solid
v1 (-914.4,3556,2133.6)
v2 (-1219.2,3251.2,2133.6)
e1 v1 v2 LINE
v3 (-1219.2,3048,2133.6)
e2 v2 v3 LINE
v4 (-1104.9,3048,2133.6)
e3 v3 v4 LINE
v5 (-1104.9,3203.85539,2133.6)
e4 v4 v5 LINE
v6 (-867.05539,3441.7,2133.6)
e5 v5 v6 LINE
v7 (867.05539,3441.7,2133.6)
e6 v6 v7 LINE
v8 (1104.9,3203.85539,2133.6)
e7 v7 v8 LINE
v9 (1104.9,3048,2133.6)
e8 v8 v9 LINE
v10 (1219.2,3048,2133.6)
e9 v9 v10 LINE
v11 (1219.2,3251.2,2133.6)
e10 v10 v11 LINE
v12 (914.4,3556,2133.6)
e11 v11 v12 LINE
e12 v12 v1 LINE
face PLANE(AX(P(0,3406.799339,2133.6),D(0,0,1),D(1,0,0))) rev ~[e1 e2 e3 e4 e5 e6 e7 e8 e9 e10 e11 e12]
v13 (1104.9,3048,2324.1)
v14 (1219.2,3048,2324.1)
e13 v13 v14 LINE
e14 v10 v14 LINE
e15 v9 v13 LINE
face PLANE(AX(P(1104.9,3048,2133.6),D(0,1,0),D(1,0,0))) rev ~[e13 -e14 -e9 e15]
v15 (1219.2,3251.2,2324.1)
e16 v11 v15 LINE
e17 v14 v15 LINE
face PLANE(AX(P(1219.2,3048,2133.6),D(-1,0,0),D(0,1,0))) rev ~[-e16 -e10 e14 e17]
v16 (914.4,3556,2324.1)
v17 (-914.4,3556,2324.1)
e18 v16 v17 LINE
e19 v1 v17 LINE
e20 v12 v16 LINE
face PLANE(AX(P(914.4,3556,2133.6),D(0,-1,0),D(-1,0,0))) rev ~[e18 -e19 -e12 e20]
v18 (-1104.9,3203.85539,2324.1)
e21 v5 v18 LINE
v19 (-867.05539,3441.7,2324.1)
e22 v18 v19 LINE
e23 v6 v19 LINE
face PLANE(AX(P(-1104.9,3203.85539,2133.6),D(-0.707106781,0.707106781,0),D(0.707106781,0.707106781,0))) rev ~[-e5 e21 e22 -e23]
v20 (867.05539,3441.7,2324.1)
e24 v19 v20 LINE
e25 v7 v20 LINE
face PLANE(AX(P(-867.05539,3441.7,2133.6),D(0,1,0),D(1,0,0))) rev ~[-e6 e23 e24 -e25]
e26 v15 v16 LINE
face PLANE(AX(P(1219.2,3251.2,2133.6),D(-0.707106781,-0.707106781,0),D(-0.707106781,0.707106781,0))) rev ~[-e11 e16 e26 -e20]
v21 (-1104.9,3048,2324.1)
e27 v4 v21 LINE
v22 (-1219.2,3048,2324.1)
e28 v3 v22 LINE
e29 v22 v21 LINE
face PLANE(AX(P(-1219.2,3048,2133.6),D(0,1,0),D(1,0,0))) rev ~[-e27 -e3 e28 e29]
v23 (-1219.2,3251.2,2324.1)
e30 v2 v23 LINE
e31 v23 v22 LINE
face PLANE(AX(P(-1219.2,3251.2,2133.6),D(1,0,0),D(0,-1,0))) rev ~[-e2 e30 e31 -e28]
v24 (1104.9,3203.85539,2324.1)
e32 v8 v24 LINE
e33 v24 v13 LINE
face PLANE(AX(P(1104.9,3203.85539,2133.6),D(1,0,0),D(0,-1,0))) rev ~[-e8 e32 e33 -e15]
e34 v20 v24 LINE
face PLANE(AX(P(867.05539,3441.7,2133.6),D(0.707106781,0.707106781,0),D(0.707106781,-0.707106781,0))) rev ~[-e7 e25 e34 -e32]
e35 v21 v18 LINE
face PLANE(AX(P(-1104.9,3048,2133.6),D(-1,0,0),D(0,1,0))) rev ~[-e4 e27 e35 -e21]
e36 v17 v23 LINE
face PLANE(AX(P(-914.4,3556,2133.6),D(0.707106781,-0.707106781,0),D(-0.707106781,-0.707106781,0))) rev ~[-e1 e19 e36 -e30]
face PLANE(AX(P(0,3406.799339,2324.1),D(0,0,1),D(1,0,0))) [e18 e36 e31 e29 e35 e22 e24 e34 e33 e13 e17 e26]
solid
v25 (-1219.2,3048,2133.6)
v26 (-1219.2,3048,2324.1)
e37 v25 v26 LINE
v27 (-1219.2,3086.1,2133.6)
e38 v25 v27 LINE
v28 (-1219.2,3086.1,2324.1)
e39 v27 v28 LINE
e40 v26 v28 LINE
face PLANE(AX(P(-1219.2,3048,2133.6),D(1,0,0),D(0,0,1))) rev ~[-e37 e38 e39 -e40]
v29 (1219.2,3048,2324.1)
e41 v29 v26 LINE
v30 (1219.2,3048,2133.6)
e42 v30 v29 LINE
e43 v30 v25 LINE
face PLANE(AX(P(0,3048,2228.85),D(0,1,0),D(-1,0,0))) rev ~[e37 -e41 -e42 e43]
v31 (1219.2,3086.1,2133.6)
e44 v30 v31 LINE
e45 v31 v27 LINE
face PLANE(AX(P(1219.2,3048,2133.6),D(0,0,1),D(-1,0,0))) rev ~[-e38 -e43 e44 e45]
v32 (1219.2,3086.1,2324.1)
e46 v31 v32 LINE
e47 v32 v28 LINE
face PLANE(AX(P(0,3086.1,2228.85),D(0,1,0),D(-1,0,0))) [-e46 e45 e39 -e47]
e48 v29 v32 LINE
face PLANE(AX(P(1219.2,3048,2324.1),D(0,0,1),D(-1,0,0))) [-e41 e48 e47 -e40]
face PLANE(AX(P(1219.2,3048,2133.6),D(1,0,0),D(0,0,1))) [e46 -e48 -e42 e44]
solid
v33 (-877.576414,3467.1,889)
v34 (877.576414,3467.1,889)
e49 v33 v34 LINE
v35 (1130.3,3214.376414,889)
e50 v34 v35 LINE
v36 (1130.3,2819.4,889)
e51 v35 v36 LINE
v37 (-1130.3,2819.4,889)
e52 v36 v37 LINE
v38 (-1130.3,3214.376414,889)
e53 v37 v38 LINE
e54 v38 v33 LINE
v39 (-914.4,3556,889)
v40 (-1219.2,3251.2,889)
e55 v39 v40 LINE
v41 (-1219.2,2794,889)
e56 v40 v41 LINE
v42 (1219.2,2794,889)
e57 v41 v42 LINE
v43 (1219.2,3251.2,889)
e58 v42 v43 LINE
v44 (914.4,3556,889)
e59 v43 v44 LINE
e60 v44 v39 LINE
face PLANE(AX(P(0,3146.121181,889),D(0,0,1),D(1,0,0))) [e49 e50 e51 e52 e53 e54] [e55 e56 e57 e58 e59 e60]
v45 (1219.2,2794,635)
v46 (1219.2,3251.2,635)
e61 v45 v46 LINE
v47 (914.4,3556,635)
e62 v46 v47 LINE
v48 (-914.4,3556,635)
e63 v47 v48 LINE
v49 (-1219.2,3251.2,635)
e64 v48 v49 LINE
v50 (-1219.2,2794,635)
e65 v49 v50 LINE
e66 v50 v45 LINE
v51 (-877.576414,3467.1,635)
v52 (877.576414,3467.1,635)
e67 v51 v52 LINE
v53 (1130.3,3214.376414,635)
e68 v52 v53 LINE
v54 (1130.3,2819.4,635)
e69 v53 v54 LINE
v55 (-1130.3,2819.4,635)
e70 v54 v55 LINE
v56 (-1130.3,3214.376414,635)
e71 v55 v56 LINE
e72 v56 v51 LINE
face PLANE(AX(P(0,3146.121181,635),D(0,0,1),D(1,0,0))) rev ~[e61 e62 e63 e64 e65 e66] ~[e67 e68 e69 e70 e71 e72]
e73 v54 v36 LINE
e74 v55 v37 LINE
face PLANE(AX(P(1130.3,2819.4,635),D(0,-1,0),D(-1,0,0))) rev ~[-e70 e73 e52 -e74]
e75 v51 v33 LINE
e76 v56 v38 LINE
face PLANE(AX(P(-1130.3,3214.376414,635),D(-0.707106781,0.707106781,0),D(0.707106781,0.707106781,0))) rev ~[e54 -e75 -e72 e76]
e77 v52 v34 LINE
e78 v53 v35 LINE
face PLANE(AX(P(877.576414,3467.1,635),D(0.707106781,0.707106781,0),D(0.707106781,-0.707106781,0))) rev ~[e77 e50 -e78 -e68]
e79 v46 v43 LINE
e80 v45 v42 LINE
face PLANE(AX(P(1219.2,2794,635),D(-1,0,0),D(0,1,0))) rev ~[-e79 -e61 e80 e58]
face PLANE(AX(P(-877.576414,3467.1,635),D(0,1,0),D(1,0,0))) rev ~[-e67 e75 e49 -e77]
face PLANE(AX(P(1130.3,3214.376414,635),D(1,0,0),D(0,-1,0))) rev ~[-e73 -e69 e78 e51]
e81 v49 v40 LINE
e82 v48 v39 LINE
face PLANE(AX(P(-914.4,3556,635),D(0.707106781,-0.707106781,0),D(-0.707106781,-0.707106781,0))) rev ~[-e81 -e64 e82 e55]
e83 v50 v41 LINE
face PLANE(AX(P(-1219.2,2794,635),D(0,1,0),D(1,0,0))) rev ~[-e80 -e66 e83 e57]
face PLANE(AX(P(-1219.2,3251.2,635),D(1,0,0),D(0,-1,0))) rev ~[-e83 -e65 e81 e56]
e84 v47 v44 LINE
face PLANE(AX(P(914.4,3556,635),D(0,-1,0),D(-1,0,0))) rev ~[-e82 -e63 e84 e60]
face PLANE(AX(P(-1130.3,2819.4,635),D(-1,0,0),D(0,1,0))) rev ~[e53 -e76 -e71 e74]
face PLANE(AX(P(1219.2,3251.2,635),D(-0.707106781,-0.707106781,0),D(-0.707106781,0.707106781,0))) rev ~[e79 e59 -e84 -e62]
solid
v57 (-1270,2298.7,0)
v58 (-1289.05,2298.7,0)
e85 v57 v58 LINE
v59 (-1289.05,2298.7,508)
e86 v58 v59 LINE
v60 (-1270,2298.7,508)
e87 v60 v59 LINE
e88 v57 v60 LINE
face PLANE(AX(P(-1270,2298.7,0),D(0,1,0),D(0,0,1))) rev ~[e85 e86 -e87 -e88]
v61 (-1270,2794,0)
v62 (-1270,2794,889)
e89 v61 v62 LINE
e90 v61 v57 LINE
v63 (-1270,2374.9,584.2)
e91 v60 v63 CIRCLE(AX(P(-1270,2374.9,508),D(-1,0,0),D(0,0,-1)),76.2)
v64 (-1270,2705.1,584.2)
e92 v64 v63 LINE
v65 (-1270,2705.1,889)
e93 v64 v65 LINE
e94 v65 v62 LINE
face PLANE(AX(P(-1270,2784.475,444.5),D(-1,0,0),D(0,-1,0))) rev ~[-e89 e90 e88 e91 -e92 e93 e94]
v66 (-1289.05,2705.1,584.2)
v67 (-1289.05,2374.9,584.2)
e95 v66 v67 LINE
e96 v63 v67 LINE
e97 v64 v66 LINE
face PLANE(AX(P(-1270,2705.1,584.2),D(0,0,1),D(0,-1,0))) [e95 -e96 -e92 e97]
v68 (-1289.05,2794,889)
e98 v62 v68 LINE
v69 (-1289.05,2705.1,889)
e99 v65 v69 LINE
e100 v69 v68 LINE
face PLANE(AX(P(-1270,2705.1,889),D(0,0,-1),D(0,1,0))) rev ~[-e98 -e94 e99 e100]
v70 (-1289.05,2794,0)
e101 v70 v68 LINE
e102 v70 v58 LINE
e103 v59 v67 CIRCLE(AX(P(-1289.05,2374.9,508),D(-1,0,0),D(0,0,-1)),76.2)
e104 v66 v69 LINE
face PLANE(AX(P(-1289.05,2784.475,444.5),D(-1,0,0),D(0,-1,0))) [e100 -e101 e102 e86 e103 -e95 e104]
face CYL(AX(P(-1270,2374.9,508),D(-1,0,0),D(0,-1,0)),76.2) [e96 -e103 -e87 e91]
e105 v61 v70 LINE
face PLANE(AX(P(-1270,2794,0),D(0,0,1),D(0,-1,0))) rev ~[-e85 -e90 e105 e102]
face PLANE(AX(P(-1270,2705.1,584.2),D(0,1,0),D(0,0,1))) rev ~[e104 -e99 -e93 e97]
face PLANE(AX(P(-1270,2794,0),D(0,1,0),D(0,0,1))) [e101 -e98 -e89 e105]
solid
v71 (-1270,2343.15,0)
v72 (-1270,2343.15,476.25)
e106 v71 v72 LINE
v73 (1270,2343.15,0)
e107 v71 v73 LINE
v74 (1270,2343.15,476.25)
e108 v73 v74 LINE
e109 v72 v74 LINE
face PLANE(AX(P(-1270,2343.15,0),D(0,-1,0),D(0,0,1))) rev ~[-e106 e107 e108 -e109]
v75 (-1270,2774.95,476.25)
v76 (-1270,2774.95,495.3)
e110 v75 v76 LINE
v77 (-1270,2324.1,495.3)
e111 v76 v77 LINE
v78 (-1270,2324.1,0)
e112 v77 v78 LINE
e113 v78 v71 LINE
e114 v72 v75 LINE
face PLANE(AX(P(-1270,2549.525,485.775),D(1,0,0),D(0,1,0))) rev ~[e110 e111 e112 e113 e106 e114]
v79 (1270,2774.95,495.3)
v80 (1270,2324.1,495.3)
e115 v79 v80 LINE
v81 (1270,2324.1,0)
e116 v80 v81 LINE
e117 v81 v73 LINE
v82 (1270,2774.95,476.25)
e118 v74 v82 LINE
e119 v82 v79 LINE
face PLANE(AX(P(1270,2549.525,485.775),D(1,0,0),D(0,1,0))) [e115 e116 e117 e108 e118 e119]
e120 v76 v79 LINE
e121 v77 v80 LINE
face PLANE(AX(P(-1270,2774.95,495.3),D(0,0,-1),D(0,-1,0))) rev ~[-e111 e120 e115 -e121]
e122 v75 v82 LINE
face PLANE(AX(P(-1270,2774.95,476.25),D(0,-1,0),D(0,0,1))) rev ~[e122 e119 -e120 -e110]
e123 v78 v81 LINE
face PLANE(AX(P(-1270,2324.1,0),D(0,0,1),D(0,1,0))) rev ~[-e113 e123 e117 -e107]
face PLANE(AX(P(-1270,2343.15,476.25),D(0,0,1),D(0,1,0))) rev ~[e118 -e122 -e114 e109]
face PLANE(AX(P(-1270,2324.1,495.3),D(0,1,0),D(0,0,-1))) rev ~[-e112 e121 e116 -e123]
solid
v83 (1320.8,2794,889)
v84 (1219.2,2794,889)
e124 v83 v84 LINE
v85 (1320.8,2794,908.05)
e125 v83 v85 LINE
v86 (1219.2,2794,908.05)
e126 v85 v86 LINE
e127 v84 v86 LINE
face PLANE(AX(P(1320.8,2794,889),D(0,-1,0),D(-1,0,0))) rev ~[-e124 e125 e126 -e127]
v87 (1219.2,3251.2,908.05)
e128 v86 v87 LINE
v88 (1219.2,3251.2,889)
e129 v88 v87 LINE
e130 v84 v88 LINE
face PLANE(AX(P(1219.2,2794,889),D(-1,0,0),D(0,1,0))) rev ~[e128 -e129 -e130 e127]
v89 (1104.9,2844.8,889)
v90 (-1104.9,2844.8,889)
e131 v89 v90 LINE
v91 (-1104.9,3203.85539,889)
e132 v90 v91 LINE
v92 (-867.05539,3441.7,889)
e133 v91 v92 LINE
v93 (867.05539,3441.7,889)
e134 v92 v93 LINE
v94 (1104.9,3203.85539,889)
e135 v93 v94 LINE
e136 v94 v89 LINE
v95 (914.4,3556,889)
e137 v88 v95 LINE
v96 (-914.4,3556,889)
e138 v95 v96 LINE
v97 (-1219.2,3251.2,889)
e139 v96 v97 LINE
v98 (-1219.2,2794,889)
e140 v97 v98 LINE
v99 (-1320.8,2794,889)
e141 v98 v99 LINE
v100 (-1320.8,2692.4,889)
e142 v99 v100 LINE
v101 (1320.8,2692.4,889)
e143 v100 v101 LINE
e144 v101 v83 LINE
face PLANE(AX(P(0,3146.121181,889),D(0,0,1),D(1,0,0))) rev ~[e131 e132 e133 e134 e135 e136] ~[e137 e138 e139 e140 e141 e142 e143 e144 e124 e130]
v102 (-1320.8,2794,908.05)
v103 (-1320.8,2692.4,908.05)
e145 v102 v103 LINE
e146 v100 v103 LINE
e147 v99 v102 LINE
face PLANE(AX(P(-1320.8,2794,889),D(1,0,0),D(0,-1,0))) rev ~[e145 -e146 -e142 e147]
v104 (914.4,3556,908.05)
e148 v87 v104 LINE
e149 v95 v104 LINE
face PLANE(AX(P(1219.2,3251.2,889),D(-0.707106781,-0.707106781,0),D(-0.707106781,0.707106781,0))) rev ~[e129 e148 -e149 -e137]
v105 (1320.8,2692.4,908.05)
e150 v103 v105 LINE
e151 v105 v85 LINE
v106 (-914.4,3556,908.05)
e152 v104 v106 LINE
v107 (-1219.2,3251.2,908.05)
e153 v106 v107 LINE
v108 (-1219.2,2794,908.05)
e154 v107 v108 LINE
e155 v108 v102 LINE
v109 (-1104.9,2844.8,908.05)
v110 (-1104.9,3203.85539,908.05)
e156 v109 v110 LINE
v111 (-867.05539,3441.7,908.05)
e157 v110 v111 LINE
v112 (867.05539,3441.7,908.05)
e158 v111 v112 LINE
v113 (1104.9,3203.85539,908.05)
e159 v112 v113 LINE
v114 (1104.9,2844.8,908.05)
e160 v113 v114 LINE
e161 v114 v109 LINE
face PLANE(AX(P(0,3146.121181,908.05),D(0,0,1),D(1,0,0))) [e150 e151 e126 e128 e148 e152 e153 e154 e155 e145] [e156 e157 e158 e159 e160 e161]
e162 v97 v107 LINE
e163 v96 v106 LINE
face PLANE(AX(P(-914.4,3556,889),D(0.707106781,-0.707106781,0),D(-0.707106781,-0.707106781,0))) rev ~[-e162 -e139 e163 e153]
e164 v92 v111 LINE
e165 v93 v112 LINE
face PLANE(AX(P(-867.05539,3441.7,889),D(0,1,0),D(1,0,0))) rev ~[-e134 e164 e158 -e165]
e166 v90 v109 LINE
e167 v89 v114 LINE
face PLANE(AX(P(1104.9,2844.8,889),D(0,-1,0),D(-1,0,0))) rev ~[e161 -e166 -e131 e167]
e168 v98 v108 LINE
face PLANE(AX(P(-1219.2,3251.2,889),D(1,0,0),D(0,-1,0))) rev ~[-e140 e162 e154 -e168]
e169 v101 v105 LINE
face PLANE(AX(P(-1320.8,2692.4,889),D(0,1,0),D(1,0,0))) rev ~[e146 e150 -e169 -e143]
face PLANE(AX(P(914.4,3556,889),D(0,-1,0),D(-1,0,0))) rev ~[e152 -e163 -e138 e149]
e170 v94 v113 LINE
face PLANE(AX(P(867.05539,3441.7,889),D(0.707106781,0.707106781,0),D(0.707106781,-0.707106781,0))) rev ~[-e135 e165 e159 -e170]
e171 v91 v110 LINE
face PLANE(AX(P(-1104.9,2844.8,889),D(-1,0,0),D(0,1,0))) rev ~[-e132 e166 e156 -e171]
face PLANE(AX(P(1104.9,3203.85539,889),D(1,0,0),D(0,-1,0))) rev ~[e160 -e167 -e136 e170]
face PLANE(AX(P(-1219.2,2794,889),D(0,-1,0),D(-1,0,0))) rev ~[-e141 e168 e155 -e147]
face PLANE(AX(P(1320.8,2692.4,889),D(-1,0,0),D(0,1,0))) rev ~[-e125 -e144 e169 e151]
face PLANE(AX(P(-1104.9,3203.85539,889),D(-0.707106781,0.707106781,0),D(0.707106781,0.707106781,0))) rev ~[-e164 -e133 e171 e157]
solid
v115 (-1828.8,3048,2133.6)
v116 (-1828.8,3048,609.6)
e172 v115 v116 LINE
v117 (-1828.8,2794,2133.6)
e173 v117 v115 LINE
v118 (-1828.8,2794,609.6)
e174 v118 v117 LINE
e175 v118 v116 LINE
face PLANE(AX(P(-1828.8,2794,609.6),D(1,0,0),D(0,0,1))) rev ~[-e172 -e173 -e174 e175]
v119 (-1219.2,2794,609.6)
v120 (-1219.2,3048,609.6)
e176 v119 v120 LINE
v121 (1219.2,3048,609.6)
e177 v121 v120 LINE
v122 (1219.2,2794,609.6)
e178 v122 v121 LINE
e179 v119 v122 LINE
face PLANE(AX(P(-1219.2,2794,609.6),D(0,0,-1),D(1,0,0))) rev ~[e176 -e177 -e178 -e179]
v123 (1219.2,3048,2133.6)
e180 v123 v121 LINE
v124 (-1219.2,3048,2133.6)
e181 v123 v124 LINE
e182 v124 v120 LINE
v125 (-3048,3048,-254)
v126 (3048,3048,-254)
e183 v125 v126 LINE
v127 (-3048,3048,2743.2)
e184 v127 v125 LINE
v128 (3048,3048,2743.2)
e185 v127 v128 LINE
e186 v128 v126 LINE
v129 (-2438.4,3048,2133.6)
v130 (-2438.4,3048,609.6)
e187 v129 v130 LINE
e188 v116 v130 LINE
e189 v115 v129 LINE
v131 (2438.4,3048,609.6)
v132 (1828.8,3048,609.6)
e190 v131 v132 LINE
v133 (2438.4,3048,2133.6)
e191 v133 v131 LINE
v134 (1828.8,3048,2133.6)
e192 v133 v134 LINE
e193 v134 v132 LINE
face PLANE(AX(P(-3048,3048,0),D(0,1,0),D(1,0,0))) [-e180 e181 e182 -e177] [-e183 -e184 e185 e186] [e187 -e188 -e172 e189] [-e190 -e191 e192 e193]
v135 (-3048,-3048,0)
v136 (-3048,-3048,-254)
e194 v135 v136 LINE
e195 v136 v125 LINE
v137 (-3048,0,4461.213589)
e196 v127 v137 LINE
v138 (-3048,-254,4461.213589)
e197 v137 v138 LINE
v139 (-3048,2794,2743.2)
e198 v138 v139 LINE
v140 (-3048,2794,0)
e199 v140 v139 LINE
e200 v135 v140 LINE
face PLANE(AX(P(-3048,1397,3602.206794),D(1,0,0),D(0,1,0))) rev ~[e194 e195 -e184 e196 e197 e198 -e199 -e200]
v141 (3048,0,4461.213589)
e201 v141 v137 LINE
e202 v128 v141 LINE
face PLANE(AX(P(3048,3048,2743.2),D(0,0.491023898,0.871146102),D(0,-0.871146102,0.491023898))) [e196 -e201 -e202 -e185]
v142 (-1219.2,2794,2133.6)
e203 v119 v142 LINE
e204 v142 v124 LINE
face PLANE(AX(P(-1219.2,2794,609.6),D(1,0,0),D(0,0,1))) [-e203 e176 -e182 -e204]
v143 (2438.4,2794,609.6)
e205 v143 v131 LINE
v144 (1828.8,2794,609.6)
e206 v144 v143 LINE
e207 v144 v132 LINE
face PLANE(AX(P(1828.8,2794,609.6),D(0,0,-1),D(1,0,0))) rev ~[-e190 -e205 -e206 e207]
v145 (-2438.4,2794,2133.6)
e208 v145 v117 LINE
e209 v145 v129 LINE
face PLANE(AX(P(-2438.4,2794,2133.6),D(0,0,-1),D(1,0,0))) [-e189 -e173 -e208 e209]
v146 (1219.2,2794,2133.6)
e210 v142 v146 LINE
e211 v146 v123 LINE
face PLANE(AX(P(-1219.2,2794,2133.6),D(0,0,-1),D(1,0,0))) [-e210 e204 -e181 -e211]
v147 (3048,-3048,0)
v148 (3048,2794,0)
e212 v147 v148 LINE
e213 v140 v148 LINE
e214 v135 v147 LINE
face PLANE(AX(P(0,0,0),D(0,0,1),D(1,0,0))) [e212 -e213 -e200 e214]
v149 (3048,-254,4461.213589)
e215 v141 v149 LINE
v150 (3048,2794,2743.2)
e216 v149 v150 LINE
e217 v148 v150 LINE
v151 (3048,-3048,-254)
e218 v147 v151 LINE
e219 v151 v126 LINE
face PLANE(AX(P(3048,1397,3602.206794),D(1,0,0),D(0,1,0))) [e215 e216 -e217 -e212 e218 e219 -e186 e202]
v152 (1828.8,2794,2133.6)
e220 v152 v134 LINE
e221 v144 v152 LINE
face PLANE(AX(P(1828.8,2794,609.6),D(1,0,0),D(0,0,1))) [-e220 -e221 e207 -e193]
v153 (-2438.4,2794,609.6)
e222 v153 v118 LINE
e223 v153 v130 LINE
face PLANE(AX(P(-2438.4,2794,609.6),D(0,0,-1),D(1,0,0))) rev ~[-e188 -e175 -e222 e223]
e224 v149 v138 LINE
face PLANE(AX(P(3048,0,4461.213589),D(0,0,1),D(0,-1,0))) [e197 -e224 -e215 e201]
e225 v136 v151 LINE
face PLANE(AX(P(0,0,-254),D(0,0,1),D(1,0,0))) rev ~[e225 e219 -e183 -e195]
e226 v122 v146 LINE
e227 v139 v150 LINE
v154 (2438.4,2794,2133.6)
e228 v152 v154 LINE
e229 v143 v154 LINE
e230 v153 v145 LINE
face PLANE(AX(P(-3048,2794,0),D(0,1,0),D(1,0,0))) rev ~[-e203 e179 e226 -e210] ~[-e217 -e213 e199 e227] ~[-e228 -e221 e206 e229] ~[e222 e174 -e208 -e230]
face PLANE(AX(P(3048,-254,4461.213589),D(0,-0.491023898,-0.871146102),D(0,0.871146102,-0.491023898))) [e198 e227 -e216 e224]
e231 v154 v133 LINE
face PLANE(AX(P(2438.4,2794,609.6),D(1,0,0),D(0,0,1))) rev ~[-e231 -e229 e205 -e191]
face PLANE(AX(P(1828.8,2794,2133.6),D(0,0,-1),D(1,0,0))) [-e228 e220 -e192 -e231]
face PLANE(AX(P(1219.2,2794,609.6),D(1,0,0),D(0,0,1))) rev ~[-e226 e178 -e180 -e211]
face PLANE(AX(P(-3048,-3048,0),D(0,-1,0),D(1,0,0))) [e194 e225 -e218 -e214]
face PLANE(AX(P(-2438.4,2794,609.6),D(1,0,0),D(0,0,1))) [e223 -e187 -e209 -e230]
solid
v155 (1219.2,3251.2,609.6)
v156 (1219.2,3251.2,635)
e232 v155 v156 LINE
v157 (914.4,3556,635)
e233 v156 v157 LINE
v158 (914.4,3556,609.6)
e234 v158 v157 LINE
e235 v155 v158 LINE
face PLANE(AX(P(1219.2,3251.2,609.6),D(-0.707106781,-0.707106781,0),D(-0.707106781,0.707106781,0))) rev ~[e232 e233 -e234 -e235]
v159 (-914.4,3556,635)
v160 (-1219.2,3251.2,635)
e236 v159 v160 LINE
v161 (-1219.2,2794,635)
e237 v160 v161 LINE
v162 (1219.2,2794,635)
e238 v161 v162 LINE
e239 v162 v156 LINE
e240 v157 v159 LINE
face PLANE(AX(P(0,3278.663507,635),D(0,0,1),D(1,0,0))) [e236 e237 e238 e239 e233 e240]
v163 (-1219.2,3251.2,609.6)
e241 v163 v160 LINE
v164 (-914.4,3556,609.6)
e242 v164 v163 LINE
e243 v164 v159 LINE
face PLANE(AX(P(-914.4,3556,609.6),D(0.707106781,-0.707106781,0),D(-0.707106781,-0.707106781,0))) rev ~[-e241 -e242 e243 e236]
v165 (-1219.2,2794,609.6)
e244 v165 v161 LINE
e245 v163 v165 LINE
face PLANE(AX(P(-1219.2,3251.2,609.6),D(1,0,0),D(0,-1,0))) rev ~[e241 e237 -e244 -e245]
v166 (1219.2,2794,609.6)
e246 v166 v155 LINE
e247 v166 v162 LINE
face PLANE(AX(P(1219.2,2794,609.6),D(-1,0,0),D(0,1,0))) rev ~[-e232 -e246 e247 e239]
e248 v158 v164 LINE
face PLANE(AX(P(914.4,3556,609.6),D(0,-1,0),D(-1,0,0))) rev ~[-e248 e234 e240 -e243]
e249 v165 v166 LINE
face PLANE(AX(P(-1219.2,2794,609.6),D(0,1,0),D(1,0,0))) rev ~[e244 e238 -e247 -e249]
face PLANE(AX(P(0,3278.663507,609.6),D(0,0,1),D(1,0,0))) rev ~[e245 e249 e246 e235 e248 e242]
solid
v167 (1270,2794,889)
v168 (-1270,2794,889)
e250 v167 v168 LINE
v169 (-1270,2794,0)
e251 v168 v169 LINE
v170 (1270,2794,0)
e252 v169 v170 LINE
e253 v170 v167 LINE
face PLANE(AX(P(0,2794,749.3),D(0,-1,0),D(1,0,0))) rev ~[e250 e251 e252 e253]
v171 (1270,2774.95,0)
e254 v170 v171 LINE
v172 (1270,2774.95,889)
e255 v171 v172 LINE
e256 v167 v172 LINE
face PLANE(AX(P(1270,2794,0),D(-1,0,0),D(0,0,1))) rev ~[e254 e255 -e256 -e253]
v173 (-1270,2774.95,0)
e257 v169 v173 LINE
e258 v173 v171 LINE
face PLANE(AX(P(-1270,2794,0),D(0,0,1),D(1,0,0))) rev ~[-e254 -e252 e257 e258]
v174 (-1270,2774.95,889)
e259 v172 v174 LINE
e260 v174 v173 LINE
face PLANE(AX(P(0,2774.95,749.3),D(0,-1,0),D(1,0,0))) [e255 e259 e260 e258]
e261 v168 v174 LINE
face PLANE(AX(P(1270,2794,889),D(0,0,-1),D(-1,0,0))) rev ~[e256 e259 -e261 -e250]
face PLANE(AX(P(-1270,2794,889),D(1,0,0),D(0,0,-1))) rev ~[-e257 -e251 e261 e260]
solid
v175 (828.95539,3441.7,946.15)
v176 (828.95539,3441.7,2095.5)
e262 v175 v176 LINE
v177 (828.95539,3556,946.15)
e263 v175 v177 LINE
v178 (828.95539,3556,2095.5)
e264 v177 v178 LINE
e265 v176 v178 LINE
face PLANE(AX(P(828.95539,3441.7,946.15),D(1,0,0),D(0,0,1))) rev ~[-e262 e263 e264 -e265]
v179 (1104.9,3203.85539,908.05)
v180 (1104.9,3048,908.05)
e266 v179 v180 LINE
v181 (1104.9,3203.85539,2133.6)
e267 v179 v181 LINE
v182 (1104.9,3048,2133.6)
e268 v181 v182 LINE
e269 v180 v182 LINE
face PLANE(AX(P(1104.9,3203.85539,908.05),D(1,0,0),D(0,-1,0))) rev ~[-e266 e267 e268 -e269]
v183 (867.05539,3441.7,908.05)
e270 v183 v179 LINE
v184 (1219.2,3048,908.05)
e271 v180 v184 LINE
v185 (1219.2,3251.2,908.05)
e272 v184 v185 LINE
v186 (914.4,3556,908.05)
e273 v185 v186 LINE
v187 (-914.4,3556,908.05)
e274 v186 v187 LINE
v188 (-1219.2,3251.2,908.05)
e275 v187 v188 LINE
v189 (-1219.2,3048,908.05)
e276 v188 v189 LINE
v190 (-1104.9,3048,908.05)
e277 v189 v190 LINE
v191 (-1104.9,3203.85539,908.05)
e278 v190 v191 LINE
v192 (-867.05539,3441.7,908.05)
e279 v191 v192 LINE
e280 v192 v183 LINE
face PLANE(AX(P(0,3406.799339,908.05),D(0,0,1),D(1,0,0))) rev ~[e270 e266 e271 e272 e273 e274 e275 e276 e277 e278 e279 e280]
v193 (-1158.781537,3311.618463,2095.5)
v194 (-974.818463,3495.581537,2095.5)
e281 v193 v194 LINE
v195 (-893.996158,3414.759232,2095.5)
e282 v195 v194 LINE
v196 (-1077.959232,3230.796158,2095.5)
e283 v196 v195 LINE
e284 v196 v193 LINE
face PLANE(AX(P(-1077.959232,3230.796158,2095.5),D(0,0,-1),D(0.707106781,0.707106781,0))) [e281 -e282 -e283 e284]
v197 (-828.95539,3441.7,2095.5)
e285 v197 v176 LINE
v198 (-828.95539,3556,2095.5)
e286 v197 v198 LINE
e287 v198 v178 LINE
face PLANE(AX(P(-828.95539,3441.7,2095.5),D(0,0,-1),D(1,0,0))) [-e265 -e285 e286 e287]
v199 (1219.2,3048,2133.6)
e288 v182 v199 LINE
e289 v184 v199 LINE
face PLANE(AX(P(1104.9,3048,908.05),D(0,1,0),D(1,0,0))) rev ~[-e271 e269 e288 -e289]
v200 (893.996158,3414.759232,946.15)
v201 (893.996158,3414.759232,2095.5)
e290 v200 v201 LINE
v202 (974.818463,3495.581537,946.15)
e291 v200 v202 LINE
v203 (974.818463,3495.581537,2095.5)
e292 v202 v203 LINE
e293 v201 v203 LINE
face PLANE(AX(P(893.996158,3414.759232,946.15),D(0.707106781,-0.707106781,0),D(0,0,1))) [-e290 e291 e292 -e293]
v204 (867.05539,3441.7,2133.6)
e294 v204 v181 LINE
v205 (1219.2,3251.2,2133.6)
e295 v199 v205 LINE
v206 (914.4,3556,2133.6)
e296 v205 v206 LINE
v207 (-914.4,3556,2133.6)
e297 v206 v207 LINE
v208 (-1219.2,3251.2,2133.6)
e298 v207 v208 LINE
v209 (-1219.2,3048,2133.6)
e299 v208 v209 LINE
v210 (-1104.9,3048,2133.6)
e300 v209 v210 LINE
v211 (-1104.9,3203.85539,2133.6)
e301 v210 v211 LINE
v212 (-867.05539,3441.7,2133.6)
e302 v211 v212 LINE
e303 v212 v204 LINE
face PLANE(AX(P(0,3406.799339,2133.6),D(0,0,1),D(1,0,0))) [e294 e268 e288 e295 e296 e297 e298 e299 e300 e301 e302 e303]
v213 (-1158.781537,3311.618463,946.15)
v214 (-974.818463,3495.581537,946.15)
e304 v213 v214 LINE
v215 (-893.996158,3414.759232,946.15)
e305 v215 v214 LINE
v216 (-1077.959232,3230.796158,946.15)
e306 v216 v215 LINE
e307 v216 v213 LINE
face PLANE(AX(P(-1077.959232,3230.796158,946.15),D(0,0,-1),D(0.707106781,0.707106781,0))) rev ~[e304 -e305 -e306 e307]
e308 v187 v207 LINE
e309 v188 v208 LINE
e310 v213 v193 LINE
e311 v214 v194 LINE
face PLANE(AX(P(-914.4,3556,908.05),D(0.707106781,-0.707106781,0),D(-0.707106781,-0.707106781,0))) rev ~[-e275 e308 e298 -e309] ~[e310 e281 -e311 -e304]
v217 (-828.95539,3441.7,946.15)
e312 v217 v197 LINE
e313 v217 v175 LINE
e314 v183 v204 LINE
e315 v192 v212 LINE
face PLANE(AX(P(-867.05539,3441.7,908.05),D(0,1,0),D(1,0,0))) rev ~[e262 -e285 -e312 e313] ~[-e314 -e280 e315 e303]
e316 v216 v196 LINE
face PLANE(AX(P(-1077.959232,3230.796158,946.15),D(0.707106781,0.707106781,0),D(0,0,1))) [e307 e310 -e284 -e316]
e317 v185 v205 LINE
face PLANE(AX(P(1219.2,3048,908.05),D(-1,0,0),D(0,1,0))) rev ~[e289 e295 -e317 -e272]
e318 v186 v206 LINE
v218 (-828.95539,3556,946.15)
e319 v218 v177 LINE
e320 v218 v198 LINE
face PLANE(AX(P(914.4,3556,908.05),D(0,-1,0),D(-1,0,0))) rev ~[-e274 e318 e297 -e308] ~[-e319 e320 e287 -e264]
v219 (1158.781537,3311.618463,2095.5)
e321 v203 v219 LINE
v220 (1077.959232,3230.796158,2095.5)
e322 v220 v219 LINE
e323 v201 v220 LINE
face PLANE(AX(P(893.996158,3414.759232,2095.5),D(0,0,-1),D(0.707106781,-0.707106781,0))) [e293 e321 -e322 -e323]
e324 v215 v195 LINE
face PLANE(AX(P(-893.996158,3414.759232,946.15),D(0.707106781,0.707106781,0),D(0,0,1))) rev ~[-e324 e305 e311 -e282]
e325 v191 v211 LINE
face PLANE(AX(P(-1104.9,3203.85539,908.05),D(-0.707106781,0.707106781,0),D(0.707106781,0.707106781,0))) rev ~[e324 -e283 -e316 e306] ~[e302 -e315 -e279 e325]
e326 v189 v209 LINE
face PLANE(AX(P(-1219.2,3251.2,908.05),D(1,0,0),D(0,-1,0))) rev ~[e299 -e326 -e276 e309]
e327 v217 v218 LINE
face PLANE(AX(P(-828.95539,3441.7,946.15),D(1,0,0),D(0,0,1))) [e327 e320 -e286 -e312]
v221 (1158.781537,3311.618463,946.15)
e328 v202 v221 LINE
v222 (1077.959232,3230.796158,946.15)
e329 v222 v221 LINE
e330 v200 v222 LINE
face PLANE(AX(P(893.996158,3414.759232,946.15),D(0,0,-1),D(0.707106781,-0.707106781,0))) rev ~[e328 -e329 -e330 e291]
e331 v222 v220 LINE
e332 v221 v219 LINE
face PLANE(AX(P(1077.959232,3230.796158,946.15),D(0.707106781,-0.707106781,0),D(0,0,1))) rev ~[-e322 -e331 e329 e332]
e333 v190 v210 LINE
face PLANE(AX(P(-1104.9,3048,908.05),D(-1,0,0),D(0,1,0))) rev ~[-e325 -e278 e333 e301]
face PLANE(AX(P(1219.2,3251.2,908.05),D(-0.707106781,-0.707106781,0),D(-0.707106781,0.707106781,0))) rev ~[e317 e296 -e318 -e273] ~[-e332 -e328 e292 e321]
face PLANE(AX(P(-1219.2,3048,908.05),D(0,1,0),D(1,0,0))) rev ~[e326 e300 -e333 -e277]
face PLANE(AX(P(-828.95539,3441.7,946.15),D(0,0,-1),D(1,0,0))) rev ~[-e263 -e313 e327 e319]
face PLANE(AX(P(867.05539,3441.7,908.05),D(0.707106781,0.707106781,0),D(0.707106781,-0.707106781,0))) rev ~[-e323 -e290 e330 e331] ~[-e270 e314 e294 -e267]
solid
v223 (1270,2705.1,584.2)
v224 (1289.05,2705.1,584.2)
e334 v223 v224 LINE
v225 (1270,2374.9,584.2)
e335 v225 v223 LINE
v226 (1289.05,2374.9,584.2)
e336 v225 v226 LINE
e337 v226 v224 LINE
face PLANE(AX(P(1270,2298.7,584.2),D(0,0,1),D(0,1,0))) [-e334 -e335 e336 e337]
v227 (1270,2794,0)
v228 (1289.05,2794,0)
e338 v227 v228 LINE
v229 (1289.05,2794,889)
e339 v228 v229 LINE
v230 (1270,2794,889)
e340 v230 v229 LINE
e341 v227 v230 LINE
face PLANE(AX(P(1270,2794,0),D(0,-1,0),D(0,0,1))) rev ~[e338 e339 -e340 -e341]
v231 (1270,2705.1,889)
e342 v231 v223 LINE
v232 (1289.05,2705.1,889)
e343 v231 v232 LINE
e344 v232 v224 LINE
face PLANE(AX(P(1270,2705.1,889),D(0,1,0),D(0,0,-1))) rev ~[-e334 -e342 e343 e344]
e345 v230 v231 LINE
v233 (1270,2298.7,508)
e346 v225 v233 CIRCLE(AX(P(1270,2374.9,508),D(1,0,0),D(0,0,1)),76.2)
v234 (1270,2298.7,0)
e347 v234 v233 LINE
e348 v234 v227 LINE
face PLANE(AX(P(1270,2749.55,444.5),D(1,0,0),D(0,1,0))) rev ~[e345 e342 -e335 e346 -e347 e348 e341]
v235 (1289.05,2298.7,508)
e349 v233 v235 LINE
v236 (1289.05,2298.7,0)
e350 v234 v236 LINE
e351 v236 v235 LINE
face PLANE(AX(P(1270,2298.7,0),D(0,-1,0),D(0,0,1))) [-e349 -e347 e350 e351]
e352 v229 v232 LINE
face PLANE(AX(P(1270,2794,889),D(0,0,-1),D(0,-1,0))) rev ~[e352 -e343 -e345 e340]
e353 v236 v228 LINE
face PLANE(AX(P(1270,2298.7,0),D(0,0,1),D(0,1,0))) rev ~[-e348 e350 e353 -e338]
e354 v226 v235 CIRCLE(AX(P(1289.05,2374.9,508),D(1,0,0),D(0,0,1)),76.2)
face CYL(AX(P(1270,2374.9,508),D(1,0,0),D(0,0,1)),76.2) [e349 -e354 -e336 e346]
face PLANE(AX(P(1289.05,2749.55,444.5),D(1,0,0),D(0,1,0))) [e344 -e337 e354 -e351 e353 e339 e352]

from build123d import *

# Parameters (mm, degrees)
F0_W      = 6096
F0_H      = 6096
F1_DEPTH  = 254
F2_W      = 6096
F2_H      = 254
F3_DEPTH  = 2743.2
F5_DEPTH  = 6096
F6_W      = 609.6
F6_H      = 1524
F7_DEPTH  = 304.8
F8_W      = 2438.4
F8_H      = 1524
F9_DEPTH  = 304.8
F11_DEPTH = 25.4
F13_DEPTH = 254
F15_DEPTH = 19.05
F16_W     = 2438.4
F16_H     = 190.5
F17_DEPTH = 38.1
F18_W     = 2438.4
F18_H     = 279.4
F19_DEPTH = 19.05
F20_W     = 19.05
F20_H     = 889
F20_W_2   = 406.4
F20_H_2   = 584.2
F21_DEPTH = 19.05
F22_W     = 406.4
F22_H     = 584.2
F23_DEPTH = 19.05
F24_W     = 19.05
F24_H     = 476.25
F25_DEPTH = 2540
F26_R     = 76.2
F26_2_R   = 76.2
F28_DEPTH = 1225.55
F29_W     = 1657.9107796415
F29_H     = 1149.35
F30_DEPTH = 127
F31_W     = 260.1630734528
F31_H     = 1149.35
F32_DEPTH = 127
F33_W     = 260.1630734528
F33_H     = 1149.35
F34_DEPTH = 127
F35_DEPTH = 190.5


with BuildPart() as f1:
    # F0 (on Top) → F1 (new body)
    with BuildSketch(Plane.XY):
        Rectangle(F0_W, F0_H)
    extrude(amount=-F1_DEPTH)

    # F2 (on face) → F3 (join)
    with BuildSketch(Plane.XY):
        with Locations((0, 2921)):
            Rectangle(F2_W, F2_H)
    extrude(amount=F3_DEPTH)

    # F4 (on face) → F5 (join)
    with BuildSketch(Plane.YZ.offset(3048)):
        Polygon((2794, 2743.2), (3048, 2743.2), (0, 4461.2135887146), (-254, 4461.2135887146), align=None)
    extrude(amount=-F5_DEPTH)

    # F6 (on face) → F7 (cut)
    with BuildSketch(Plane.XZ.offset(-2794)):
        with Locations((-2133.6, 1371.6)):
            Rectangle(F6_W, F6_H)
        with Locations((2133.6, 1371.6)):
            Rectangle(F6_W, F6_H)
    extrude(amount=-F7_DEPTH, mode=Mode.SUBTRACT)

    # F8 (on face) → F9 (cut)
    with BuildSketch(Plane.XZ.offset(-2794)):
        with Locations((0, 1371.6)):
            Rectangle(F8_W, F8_H)
    extrude(amount=-F9_DEPTH, mode=Mode.SUBTRACT)


with BuildPart() as f11:
    # F10 (on face) → F11 (new body)
    with BuildSketch(Plane.XY.offset(609.6)):
        Polygon((-1219.2, 3251.2), (-1219.2, 3048), (1219.2, 3048), (1219.2, 3251.2), (914.4, 3556), (-914.4, 3556), align=None)
        Polygon((-1219.2, 3048), (-1219.2, 2794), (0, 2794), (1219.2, 2794), (1219.2, 3048), align=None)
    extrude(amount=F11_DEPTH)


with BuildPart() as f13:
    # F12 (on face) → F13 (new body)
    with BuildSketch(Plane.XY.offset(635)):
        Polygon((-1219.2, 3251.2), (-1219.2, 2794), (1219.2, 2794), (1219.2, 3251.2), (914.4, 3556), (-914.4, 3556), align=None)
        Polygon((-1130.3, 3214.376414305), (-877.576414305, 3467.1), (877.576414305, 3467.1), (1130.3, 3214.376414305), (1130.3, 3149.6), (1130.3, 3124.2), (1130.3, 2819.4), (-1130.3, 2819.4), (-1130.3, 3124.2), (-1130.3, 3149.6), align=None, mode=Mode.SUBTRACT)
    extrude(amount=F13_DEPTH)


with BuildPart() as f15:
    # F14 (on face) → F15 (new body)
    with BuildSketch(Plane.XY.offset(889)):
        Polygon((-1219.2, 2794), (1219.2, 2794), (1219.2, 3251.2), (914.4, 3556), (-914.4, 3556), (-1219.2, 3251.2), align=None)
        Polygon((-1104.9, 2844.8), (-1104.9, 3203.8553898208), (-867.0553898208, 3441.7), (867.0553898208, 3441.7), (1104.9, 3203.8553898208), (1104.9, 2844.8), align=None, mode=Mode.SUBTRACT)
        Polygon((1320.8, 2794), (1219.2, 2794), (-1219.2, 2794), (-1320.8, 2794), (-1320.8, 2692.4), (1320.8, 2692.4), align=None)
    extrude(amount=F15_DEPTH)


with BuildPart() as f17:
    # F16 (on face) → F17 (new body)
    with BuildSketch(Plane(origin=(0, 3048, 0), x_dir=(-1, 0, 0), z_dir=(0, 1, 0))):
        with Locations((0, 2228.85)):
            Rectangle(F16_W, F16_H)
    extrude(amount=F17_DEPTH)


with BuildPart() as f19:
    # F18 (on face) → F19 (new body)
    with BuildSketch(Plane.XZ.offset(-2794)):
        with Locations((0, 749.3)):
            Rectangle(F18_W, F18_H)
        Polygon((-1219.2, 889), (-1270, 889), (-1270, 0), (1270, 0), (1270, 889), (1219.2, 889), (1219.2, 609.6), (-1219.2, 609.6), align=None)
    extrude(amount=F19_DEPTH)


with BuildPart() as f21:
    # F20 (on face) → F21 (new body)
    with BuildSketch(Plane(origin=(-1270, 0, 0), x_dir=(0, -1, 0), z_dir=(-1, 0, 0))):
        with Locations((-2784.475, 444.5)):
            Rectangle(F20_W, F20_H)
        with Locations((-2501.9, 292.1)):
            Rectangle(F20_W_2, F20_H_2)
        Polygon((-2705.1, 889), (-2774.95, 889), (-2774.95, 0), (-2705.1, 0), (-2705.1, 584.2), align=None)
    extrude(amount=F21_DEPTH)

    # F26#2
    f26_2_edges = [f21.edges().sort_by_distance(p)[0] for p in [
        (-1279.525, 2298.7, 584.2),
    ]]
    fillet(f26_2_edges, radius=F26_2_R)


with BuildPart() as f23:
    # F22 (on face) → F23 (new body)
    with BuildSketch(Plane.YZ.offset(1270)):
        Polygon((2794, 0), (2794, 889), (2705.1, 889), (2705.1, 584.2), (2705.1, 0), align=None)
        with Locations((2501.9, 292.1)):
            Rectangle(F22_W, F22_H)
    extrude(amount=F23_DEPTH)

    # F26
    f26_edges = [f23.edges().sort_by_distance(p)[0] for p in [
        (1279.525, 2298.7, 584.2),
    ]]
    fillet(f26_edges, radius=F26_R)


with BuildPart() as f25:
    # F24 (on face) → F25 (new body, through all)
    with BuildSketch(Plane.YZ.offset(-1270)):
        Polygon((2774.95, 476.25), (2774.95, 495.3), (2324.1, 495.3), (2324.1, 476.25), (2343.15, 476.25), align=None)
        with Locations((2333.625, 238.125)):
            Rectangle(F24_W, F24_H)
    extrude(amount=F25_DEPTH)


with BuildPart() as f28:
    # F27 (on face) → F28 (new body, through all)
    with BuildSketch(Plane.XY.offset(908.05)):
        Polygon((-1219.2, 3251.2), (-1219.2, 3048), (-1104.9, 3048), (-1104.9, 3203.8553898208), (-867.0553898208, 3441.7), (867.0553898208, 3441.7), (1104.9, 3203.8553898208), (1104.9, 3048), (1219.2, 3048), (1219.2, 3251.2), (914.4, 3556), (-914.4, 3556), align=None)
    extrude(amount=F28_DEPTH)

    # F29 (on face) → F30 (cut)
    with BuildSketch(Plane.XZ.offset(-3441.7)):
        with Locations((0, 1520.825)):
            Rectangle(F29_W, F29_H)
    extrude(amount=-F30_DEPTH, mode=Mode.SUBTRACT)

    # F31 (on face) → F32 (cut)
    with BuildSketch(Plane(origin=(-2154.3776949104, 2154.3776949104, 0), x_dir=(0.7071067812, 0.7071067812, 0), z_dir=(0.7071067812, -0.7071067812, 0))):
        with Locations((1652.3671262767, 1520.825)):
            Rectangle(F31_W, F31_H)
    extrude(amount=-F32_DEPTH, mode=Mode.SUBTRACT)

    # F33 (on face) → F34 (cut)
    with BuildSketch(Plane(origin=(2154.3776949104, 2154.3776949104, 0), x_dir=(0.7071067812, -0.7071067812, 0), z_dir=(-0.7071067812, -0.7071067812, 0))):
        with Locations((-1652.3671262767, 1520.825)):
            Rectangle(F33_W, F33_H)
    extrude(amount=-F34_DEPTH, mode=Mode.SUBTRACT)


with BuildPart() as f35:
    # F35 (new, through all): a face of the model
    f35_faces = [f28.part.faces().sort_by_distance(p)[0] for p in [
        (1194.2924538342, 3149.6, 2133.6),
    ]]
    extrude(f35_faces, amount=F35_DEPTH)


solid = Compound([f1.part, f11.part, f13.part, f15.part, f17.part, f19.part, f21.part, f23.part, f25.part, f28.part, f35.part])
